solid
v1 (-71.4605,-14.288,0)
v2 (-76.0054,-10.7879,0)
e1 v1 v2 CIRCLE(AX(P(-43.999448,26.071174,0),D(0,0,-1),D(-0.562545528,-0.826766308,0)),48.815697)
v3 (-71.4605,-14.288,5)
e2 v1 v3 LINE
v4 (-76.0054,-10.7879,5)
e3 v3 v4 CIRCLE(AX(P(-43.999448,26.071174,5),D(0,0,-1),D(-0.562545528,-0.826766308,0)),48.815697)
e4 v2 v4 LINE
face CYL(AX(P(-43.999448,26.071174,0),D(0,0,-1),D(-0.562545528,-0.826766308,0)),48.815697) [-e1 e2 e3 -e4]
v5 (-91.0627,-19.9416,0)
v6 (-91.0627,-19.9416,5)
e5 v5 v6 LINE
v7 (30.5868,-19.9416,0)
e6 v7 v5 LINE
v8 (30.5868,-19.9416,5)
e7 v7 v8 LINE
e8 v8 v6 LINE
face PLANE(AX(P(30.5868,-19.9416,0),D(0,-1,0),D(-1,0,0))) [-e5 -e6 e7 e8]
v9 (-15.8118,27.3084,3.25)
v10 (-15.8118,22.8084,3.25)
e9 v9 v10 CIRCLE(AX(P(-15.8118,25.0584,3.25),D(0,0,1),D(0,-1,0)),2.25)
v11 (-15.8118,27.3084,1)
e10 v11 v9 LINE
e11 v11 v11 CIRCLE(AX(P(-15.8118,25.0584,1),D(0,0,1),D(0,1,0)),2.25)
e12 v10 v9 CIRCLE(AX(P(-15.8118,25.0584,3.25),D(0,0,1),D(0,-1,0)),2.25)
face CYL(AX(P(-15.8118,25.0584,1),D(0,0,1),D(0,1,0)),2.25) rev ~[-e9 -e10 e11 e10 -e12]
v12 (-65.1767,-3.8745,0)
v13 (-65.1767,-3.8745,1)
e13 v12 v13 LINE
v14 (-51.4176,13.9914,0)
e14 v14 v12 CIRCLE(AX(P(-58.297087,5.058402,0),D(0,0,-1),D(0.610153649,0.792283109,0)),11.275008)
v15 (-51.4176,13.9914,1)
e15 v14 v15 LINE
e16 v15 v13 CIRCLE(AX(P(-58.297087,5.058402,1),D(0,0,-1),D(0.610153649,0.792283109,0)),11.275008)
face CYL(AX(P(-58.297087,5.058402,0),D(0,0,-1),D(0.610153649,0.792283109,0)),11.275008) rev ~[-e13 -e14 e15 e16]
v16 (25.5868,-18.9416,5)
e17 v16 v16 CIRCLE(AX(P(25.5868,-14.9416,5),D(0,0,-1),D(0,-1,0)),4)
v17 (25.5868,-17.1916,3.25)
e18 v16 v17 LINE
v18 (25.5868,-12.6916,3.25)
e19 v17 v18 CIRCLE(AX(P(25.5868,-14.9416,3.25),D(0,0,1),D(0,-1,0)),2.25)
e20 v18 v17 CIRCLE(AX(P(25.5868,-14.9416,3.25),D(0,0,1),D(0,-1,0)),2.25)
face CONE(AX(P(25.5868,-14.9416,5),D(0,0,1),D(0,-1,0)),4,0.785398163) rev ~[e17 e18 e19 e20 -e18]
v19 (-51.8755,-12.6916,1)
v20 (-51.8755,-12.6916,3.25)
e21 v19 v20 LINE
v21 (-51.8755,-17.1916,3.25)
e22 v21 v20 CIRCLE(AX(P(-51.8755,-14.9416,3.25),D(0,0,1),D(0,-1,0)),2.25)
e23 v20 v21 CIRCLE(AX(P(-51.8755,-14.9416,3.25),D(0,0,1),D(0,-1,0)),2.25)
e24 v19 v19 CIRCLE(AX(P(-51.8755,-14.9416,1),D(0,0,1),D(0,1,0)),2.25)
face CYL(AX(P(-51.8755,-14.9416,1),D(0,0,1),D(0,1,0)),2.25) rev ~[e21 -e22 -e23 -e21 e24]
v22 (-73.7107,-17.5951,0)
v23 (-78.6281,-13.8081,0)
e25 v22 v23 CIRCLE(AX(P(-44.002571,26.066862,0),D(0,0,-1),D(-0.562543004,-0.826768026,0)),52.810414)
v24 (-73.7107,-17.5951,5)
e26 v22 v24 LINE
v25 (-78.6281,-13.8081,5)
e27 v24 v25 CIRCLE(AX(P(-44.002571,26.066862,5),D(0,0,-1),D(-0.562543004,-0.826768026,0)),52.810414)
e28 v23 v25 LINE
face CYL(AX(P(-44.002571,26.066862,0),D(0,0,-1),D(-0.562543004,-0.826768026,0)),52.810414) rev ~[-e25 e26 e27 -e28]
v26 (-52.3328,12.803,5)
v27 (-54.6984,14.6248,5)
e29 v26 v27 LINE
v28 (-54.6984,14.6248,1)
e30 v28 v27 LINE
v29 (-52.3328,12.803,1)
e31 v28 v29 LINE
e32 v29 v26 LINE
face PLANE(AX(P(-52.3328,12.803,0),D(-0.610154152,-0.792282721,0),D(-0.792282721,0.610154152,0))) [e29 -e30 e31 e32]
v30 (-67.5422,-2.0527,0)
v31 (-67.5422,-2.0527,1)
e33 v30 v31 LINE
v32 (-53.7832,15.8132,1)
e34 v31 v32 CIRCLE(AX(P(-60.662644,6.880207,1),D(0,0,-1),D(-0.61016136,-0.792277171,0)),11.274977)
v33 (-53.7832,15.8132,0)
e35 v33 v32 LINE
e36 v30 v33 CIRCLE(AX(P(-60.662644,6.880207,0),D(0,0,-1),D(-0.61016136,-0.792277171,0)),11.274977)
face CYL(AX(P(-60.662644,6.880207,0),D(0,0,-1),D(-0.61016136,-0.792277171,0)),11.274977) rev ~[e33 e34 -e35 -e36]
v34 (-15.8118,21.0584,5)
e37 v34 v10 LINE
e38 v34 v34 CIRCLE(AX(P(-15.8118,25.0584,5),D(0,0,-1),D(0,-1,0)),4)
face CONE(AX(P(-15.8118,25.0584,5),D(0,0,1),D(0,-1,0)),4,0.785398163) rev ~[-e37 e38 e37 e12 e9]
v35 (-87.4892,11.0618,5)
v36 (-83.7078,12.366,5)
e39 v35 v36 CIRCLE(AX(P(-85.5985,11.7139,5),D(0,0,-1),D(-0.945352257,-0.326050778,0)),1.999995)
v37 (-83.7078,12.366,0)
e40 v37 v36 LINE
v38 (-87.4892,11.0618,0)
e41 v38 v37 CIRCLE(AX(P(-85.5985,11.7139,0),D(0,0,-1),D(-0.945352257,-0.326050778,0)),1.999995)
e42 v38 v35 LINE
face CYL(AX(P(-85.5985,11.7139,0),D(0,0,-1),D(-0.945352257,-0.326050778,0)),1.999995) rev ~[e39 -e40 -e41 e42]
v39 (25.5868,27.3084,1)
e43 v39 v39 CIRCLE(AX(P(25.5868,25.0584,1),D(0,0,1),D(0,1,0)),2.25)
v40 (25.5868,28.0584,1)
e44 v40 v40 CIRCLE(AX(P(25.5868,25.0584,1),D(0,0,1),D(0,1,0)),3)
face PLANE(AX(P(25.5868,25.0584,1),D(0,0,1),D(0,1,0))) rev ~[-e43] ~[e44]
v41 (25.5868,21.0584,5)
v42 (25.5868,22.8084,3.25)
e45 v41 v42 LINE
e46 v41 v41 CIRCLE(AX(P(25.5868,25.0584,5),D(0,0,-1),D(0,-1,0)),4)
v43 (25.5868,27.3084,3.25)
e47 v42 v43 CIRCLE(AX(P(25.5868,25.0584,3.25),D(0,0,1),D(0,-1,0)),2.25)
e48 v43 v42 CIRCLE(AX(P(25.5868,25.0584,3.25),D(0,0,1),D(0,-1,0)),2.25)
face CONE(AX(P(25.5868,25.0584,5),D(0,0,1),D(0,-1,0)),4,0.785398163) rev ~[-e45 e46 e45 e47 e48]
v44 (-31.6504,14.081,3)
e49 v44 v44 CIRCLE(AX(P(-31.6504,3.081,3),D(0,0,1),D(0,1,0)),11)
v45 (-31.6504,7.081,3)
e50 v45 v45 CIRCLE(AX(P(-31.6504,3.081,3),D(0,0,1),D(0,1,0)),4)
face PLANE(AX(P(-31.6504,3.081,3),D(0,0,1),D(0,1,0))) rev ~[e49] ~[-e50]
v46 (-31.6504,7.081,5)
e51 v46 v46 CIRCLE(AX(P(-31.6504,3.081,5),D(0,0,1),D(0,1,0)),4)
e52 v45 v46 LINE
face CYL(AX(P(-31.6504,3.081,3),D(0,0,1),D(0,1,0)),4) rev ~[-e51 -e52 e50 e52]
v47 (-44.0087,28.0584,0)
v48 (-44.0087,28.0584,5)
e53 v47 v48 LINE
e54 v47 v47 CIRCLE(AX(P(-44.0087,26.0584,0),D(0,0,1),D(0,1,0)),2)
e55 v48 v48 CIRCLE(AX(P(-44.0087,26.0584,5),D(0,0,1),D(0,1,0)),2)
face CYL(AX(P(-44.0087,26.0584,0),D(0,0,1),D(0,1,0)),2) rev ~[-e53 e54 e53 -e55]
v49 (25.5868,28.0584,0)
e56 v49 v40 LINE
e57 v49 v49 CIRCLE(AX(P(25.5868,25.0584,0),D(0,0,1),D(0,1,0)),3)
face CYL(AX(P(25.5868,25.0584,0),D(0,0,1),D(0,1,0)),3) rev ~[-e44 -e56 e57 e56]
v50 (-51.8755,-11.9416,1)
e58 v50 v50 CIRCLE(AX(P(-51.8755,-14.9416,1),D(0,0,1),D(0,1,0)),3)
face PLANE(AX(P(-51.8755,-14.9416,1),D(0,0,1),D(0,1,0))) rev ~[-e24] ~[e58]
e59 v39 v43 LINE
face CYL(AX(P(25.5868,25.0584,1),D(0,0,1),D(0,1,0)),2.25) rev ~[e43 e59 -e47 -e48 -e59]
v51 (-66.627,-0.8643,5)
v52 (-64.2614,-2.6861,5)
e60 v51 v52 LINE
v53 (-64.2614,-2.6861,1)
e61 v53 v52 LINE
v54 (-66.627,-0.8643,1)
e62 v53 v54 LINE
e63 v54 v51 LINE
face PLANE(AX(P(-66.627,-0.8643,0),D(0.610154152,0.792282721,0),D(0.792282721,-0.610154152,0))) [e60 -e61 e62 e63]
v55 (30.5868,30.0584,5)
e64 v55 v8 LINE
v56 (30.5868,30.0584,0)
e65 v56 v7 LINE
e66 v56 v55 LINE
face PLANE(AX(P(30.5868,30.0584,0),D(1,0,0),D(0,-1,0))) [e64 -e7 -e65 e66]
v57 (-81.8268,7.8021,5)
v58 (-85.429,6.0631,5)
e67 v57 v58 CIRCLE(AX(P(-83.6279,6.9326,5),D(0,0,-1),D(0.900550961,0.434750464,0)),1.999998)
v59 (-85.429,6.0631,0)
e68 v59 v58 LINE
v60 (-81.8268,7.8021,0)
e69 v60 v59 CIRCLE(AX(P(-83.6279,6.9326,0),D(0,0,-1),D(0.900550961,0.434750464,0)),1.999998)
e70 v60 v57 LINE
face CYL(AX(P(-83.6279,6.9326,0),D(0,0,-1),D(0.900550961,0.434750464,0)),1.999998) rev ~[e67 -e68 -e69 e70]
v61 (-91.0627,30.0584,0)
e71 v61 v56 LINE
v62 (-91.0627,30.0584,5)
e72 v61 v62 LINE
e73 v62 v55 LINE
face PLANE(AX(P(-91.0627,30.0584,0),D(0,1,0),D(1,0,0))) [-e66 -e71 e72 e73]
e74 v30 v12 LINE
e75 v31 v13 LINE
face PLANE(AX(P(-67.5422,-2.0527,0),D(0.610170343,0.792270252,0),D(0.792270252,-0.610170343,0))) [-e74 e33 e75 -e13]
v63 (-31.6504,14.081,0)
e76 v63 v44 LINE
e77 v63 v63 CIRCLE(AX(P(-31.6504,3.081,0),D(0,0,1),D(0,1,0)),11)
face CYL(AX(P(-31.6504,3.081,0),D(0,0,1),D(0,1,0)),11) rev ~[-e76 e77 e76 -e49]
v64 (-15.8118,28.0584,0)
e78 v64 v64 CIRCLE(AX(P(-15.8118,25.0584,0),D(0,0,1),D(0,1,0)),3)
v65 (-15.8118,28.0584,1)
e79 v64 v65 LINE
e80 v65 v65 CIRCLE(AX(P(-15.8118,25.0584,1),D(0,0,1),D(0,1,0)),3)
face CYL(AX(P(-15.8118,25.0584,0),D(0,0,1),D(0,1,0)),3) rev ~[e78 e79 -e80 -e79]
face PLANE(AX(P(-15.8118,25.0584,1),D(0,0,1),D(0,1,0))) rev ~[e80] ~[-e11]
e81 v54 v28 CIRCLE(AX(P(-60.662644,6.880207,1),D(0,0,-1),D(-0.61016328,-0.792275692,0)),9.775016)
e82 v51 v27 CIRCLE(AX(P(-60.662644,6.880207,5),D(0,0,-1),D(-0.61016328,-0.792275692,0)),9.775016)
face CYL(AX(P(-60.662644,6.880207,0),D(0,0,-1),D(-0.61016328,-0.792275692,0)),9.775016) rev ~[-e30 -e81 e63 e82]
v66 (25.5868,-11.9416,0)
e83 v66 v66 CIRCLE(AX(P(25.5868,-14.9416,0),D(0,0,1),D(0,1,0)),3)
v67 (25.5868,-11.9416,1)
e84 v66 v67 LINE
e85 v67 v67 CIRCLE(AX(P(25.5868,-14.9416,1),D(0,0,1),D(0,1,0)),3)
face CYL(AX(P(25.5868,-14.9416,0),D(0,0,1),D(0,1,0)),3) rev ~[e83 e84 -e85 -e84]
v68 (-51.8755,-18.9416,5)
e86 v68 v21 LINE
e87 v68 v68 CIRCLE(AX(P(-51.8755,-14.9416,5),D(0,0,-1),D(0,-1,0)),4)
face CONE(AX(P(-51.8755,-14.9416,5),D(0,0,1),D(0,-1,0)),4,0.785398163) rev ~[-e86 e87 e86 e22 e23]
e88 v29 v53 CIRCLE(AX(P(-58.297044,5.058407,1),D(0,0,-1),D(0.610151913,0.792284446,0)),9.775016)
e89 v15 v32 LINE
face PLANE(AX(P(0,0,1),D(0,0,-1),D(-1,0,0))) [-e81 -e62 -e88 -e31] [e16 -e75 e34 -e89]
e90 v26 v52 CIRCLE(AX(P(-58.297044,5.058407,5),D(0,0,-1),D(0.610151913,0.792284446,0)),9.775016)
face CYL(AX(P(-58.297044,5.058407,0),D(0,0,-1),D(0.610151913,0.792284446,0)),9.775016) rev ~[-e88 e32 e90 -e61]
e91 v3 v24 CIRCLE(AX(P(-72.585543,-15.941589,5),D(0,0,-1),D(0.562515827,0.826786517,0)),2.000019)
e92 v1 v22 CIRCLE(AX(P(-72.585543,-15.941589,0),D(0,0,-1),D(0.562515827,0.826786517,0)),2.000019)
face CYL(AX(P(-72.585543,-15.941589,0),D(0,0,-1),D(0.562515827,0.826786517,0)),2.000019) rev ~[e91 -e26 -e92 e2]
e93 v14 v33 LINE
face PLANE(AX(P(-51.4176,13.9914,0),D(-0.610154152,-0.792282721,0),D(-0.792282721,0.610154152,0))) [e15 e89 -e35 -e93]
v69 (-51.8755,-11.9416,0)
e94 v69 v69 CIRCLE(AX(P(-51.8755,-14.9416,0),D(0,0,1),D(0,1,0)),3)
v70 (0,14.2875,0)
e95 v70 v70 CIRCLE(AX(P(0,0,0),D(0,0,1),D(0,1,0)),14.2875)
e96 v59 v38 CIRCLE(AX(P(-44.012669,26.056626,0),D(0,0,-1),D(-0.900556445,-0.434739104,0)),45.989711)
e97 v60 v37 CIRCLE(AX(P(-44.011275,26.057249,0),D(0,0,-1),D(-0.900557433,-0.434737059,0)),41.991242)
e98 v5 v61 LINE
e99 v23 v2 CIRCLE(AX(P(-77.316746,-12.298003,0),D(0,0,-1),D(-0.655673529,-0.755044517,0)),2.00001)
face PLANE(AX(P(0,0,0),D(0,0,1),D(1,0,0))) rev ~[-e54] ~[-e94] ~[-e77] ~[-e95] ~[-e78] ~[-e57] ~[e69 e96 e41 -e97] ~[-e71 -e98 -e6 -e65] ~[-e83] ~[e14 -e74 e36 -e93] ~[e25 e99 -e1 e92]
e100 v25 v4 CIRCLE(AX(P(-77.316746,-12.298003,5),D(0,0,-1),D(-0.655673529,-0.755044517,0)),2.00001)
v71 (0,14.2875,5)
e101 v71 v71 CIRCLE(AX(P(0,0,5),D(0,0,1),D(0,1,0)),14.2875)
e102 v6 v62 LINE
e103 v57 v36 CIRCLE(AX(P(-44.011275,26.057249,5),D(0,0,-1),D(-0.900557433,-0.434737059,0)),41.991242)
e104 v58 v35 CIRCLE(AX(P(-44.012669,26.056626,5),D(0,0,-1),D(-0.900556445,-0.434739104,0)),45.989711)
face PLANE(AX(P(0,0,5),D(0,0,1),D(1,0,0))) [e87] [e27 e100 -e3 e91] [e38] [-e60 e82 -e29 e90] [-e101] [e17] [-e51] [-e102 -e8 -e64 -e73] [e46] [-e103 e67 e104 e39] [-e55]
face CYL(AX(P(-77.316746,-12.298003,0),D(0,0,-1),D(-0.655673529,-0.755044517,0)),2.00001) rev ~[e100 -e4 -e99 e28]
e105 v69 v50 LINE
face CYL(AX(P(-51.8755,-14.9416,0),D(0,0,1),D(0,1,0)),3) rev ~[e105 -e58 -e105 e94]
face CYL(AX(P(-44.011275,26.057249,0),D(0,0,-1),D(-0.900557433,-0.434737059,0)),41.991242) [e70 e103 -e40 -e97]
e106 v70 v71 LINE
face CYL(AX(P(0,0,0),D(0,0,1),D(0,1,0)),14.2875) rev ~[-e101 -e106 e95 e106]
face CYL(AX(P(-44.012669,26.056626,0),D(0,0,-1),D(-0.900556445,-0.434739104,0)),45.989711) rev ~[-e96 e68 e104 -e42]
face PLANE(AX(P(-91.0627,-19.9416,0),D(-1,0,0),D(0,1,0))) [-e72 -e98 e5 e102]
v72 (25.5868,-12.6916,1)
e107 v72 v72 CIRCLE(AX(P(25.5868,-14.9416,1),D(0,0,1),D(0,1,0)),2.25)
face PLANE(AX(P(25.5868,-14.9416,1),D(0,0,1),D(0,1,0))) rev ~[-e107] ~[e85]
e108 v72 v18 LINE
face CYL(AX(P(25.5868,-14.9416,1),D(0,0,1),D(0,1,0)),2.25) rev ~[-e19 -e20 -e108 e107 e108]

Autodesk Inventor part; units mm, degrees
ref_plane "YZ Plane" through (0, 0, 0) normal (1, 0, 0) x (0, 1, 0)
ref_plane "XZ Plane" through (0, 0, 0) normal (0, 1, 0) x (-1, 0, 0)
ref_plane "XY Plane" through (0, 0, 0) normal (0, 0, 1) x (1, 0, 0)
sketch "MASTER SKETCH" plane through (0, 0, 0) normal (0, 0, 1) x (1, 0, 0)
  circle A0 centre (0, 0) radius 22.86
  circle A1 centre (-31.6504, 3.081) radius 8.89
  circle A2 centre (-31.6504, 3.081) radius 20.32
  circle A3 centre (-60.6627, 6.8802) radius 8.89
  circle A4 centre (-58.2971, 5.0584) radius 6.35
  circle A5 centre (-60.6627, 6.8802) radius 25.4
  circle A6 centre (-58.2971, 5.0584) radius 25.4 construction
  line L0 (-44.0087, 26.0584) -> (-77.3167, -12.298) construction
  line L1 (-68.9445, 30.8921) -> (-52.3809, -17.1317) construction
  circle A7 centre (-44.0087, 26.0584) radius 2
  arc A8 (-68.9445, 30.8921) -> (-69.3394, 27.9326) centre (-44.0087, 26.0584) ccw construction
  arc A9 (-70.9079, 31.2727) -> (-71.334, 28.0802) centre (-44.0087, 26.0584) ccw
  arc A10 (-66.981, 30.5115) -> (-67.3449, 27.785) centre (-44.0087, 26.0584) ccw
  arc A11 (-66.981, 30.5115) -> (-70.9079, 31.2727) centre (-68.9445, 30.8921) ccw
  arc A12 (-71.334, 28.0802) -> (-67.3449, 27.785) centre (-69.3394, 27.9326) ccw
  arc A13 (-85.5985, 11.7139) -> (-83.6279, 6.9326) centre (-44.0087, 26.0584) ccw construction
  arc A14 (-87.4892, 11.0618) -> (-85.429, 6.0631) centre (-44.0087, 26.0584) ccw
  arc A15 (-83.7078, 12.366) -> (-81.8268, 7.8021) centre (-44.0087, 26.0584) ccw
  arc A16 (-83.7078, 12.366) -> (-87.4892, 11.0618) centre (-85.5985, 11.7139) ccw
  arc A17 (-85.429, 6.0631) -> (-81.8268, 7.8021) centre (-83.6279, 6.9326) ccw
  arc A18 (-77.3167, -12.298) -> (-72.5856, -15.9416) centre (-44.0087, 26.0584) ccw construction
  arc A19 (-78.6281, -13.8081) -> (-73.7107, -17.5951) centre (-44.0087, 26.0584) ccw
  arc A20 (-76.0054, -10.7879) -> (-71.4605, -14.288) centre (-44.0087, 26.0584) ccw
  arc A21 (-76.0054, -10.7879) -> (-78.6281, -13.8081) centre (-77.3167, -12.298) ccw
  arc A22 (-73.7107, -17.5951) -> (-71.4605, -14.288) centre (-72.5856, -15.9416) ccw
  arc A23 (-52.3809, -17.1317) -> (-47.2548, -17.8157) centre (-44.0087, 26.0584) ccw construction
  arc A24 (-52.7615, -19.0951) -> (-47.4024, -19.8103) centre (-44.0087, 26.0584) ccw
  arc A25 (-52.0003, -15.1682) -> (-47.1072, -15.8212) centre (-44.0087, 26.0584) ccw
  arc A26 (-52.0003, -15.1682) -> (-52.7615, -19.0951) centre (-52.3809, -17.1317) ccw
  arc A27 (-47.4024, -19.8103) -> (-47.1072, -15.8212) centre (-47.2548, -17.8157) ccw
  arc A28 (-35.7269, 2.0465) -> (-32.9664, 3.1843) centre (-44.0087, 26.0584) ccw construction
  arc A29 (-35.0748, 0.1558) -> (-32.0969, 1.3831) centre (-44.0087, 26.0584) ccw
  arc A30 (-36.379, 3.9372) -> (-33.8358, 4.9854) centre (-44.0087, 26.0584) ccw
  arc A31 (-36.379, 3.9372) -> (-35.0748, 0.1558) centre (-35.7269, 2.0465) ccw
  arc A32 (-32.0969, 1.3831) -> (-33.8358, 4.9854) centre (-32.9664, 3.1843) ccw
  line L2 (-91.0627, 30.0584) -> (30.5868, 30.0584)
  line L3 (30.5868, 30.0584) -> (30.5868, -19.9416)
  line L4 (30.5868, -19.9416) -> (-91.0627, -19.9416)
  line L5 (-91.0627, -19.9416) -> (-91.0627, 30.0584)
  circle A33 centre (0, 0) radius 14.2875 construction
  circle A34 centre (25.5868, -14.9416) radius 3
  circle A35 centre (25.5868, 25.0584) radius 3
  circle A36 centre (-51.8755, -14.9416) radius 3
  line L6 (-91.0627, 25.3566) -> (30.5868, 25.3566) construction
  circle A37 centre (-15.8118, 25.0584) radius 3
  line L7 (-58.2971, 5.0584) -> (-60.6627, 6.8802) construction
  line L8 (-52.3328, 12.803) -> (-54.6984, 14.6248)
  line L9 (-66.627, -0.8643) -> (-64.2614, -2.6861)
  arc A38 (-64.2614, -2.6861) -> (-52.3328, 12.803) centre (-58.2971, 5.0584) ccw
  arc A39 (-54.6984, 14.6248) -> (-66.627, -0.8643) centre (-60.6627, 6.8802) ccw
  circle A40 centre (0, 0) radius 24.13 construction
  circle A41 centre (-31.6504, 3.081) radius 21.59 construction
  line L10 (-67.5422, -2.0527) -> (-65.1767, -3.8745)
  arc A42 (-65.1767, -3.8745) -> (-51.4176, 13.9914) centre (-58.2971, 5.0584) ccw
  line L11 (-51.4176, 13.9914) -> (-53.7832, 15.8132)
  arc A43 (-53.7832, 15.8132) -> (-67.5422, -2.0527) centre (-60.6627, 6.8802) ccw
  circle A44 centre (-44.0087, 26.0584) radius 50.8 construction
  arc A45 (-67.3815, -0.857) -> (-64.0616, -3.4137) centre (-44.0087, 26.0584) ccw
  arc A46 (-53.9439, 14.6174) -> (-52.5326, 13.5306) centre (-44.0087, 26.0584) ccw
  arc A47 (-53.9439, 14.6174) -> (-67.3815, -0.857) centre (-60.6627, 6.8802) ccw
  arc A48 (-64.0616, -3.4137) -> (-52.5326, 13.5306) centre (-58.2971, 5.0584) ccw
  line L12 (-35.7269, 2.0465) -> (-85.5985, 11.7139) construction
  point P0 (-60.0285, -7.7006)
  point P1 (-59.4799, 5.9693)
  dimension "d0" = 45.72
  dimension "d1" = 17.78
  dimension "d2" = 40.64
  dimension "d4" = 17.78
  dimension "d5" = 12.7
  dimension "d6" = 50.8
  dimension "d9" = 50.8
  dimension "d10" = 60
  dimension "d12" = 4
  dimension "d13" = 4
  dimension "d14" = 4
  dimension "d15" = 4
  dimension "d16" = 4
  dimension "d17" = 4
  dimension "d19" = 28.575
  dimension "d28" = 6
  dimension "d29" = 6
  dimension "d30" = 6
  dimension "d39" = 31.8
  dimension "d42" = 29.26
  dimension "d43" = 26.72
  dimension "d70" = 2
  dimension "d73" = 6
  dimension "d84" = 2
  dimension "d85" = 5
  dimension "d89" = 19.55
  dimension "d108" = 1.27
  dimension "d109" = 1.27
  dimension "d110" = 2.5
  dimension "d111" = 2.5
  dimension "d113" = 2.5
  dimension "d114" = 2
  dimension "d129" = 1.5
  dimension "d133" = 2.5
  dimension "d136" = 50
  dimension "d139" = 2
  dimension "d140" = 2.5
  dimension "d141" = 2
  dimension "d142" = 2
  dimension "d181" = 60
sketch "Sketch2" plane through (0, 0, 0) normal (0, 0, 1) x (1, 0, 0)
  line L0 (-91.0627, 30.0584) -> (30.5868, 30.0584) projected
  line L1 (-91.0627, -19.9416) -> (-91.0627, 30.0584) projected
  line L2 (30.5868, 30.0584) -> (30.5868, -19.9416) projected
  line L3 (30.5868, -19.9416) -> (-91.0627, -19.9416) projected
  line L4 (-91.0627, 30.0584) -> (30.5868, 30.0584)
  line L5 (30.5868, 30.0584) -> (30.5868, -19.9416)
  line L6 (30.5868, -19.9416) -> (-91.0627, -19.9416)
  line L7 (-91.0627, -19.9416) -> (-91.0627, 30.0584)
  point P0 (0, 0)
extrude "Extrusion1" add sketch "Sketch2" along normal blind 5
sketch "Sketch3" plane through (0, 0, 0) normal (0, 0, -1) x (-1, 0, 0)
  arc A0 (47.1072, -15.8212) -> (47.4024, -19.8103) centre (47.2548, -17.8157) ccw projected
  arc A1 (47.1072, -15.8212) -> (52.0003, -15.1682) centre (44.0087, 26.0584) ccw projected
  arc A2 (47.4024, -19.8103) -> (52.7615, -19.0951) centre (44.0087, 26.0584) ccw projected
  arc A3 (52.7615, -19.0951) -> (52.0003, -15.1682) centre (52.3809, -17.1317) ccw projected
  line L0 (91.0627, 30.0584) -> (91.0627, -19.9416) projected
  line L1 (-30.5868, 30.0584) -> (91.0627, 30.0584) projected
  line L2 (-30.5868, -19.9416) -> (-30.5868, 30.0584) projected
  line L3 (91.0627, -19.9416) -> (-30.5868, -19.9416) projected
  arc A4 (71.4605, -14.288) -> (73.7107, -17.5951) centre (72.5856, -15.9416) ccw projected
  arc A5 (73.7107, -17.5951) -> (78.6281, -13.8081) centre (44.0087, 26.0584) ccw projected
  arc A6 (71.4605, -14.288) -> (76.0054, -10.7879) centre (44.0087, 26.0584) ccw projected
  arc A7 (78.6281, -13.8081) -> (76.0054, -10.7879) centre (77.3167, -12.298) ccw projected
  arc A8 (81.8268, 7.8021) -> (83.7078, 12.366) centre (44.0087, 26.0584) ccw projected
  arc A9 (81.8268, 7.8021) -> (85.429, 6.0631) centre (83.6279, 6.9326) ccw projected
  arc A10 (85.429, 6.0631) -> (87.4892, 11.0618) centre (44.0087, 26.0584) ccw projected
  arc A11 (87.4892, 11.0618) -> (83.7078, 12.366) centre (85.5985, 11.7139) ccw projected
  arc A12 (71.334, 28.0802) -> (70.9079, 31.2727) centre (44.0087, 26.0584) ccw projected
  arc A13 (67.3449, 27.785) -> (66.981, 30.5115) centre (44.0087, 26.0584) ccw projected
  arc A14 (70.9079, 31.2727) -> (66.981, 30.5115) centre (68.9445, 30.8921) ccw projected
  arc A15 (67.3449, 27.785) -> (71.334, 28.0802) centre (69.3394, 27.9326) ccw projected
  arc A16 (66.627, -0.8643) -> (54.6984, 14.6248) centre (60.6627, 6.8802) ccw projected
  arc A17 (52.3328, 12.803) -> (64.2614, -2.6861) centre (58.2971, 5.0584) ccw projected
  line L4 (52.3328, 12.803) -> (54.6984, 14.6248) projected
  line L5 (66.627, -0.8643) -> (64.2614, -2.6861) projected
  point P0 (0, 0)
extrude "Extrusion2" cut sketch "Sketch3" against normal blind 5 contours A6 A7 A5 A4 | A8 A11 A10 A9 | L5 A17 L4 A16
sketch "Sketch4" plane through (0, 0, 0) normal (0, 0, -1) x (-1, 0, 0)
  circle A0 centre (-25.5868, 25.0584) radius 3 projected
  circle A1 centre (15.8118, 25.0584) radius 3 projected
  circle A2 centre (51.8755, -14.9416) radius 3 projected
  circle A3 centre (-25.5868, -14.9416) radius 3 projected
  point P0 (0, 0)
sketch "Sketch5" plane through (0, 0, 0) normal (0, 0, -1) x (-1, 0, 0)
  circle A0 centre (0, 0) radius 22.86 projected
hole "Hole1" at (0, 0, 0) direction (0, 0, 1) diameter 28.575 end through all
hole "Hole2" at (25.5868, 25.0584, 0) at (-15.8118, 25.0584, 0) at (25.5868, -14.9416, 0) at (-51.8755, -14.9416, 0) direction (0, 0, 1) diameter 4.5 end through all counterbore diameter 6 counterbore depth 1
sketch "Sketch6" plane through (0, 0, 0) normal (0, 0, -1) x (-1, 0, 0)
  line L0 (91.0627, 25.3566) -> (-30.5868, 25.3566) construction
  circle A0 centre (44.0087, 26.0584) radius 2 projected
  point P0 (0, 0)
hole "Hole3" at (-44.0087, 26.0584, 0) direction (0, 0, 1) diameter 4 end through all
sketch "Sketch7" plane through (0, 0, 0) normal (0, 0, -1) x (-1, 0, 0)
  circle A0 centre (31.6504, 3.081) radius 20.32 projected
  point P0 (0, 0)
hole "Hole4" at (-31.6504, 3.081, 0) direction (0, 0, 1) diameter 8 depth 5 counterbore diameter 22 counterbore depth 3
sketch "Sketch8" plane through (0, 0, 0) normal (0, 0, -1) x (-1, 0, 0)
  arc A0 (52.3328, 12.803) -> (64.2614, -2.6861) centre (58.2971, 5.0584) ccw projected
  line L0 (66.627, -0.8643) -> (64.2614, -2.6861) projected
  arc A1 (66.627, -0.8643) -> (54.6984, 14.6248) centre (60.6627, 6.8802) ccw projected
  line L1 (52.3328, 12.803) -> (54.6984, 14.6248) projected
  arc A2 (67.5422, -2.0527) -> (53.7832, 15.8132) centre (60.6627, 6.8802) ccw projected
  line L2 (51.4176, 13.9914) -> (53.7832, 15.8132) projected
  line L3 (67.5422, -2.0527) -> (65.1767, -3.8745) projected
  arc A3 (51.4176, 13.9914) -> (65.1767, -3.8745) centre (58.2971, 5.0584) ccw projected
  point P0 (0, 0)
extrude "Extrusion3" cut sketch "Sketch8" against normal blind 1 contours L1 A1 L0 A0 | L3 A3 L2 A2
sketch "Sketch11" plane through (0, 0, 0) normal (0, 0, 1) x (1, 0, 0)
  line L0 (30.5868, -19.9416) -> (30.5868, 30.0584) projected
  line L1 (30.5868, 30.0584) -> (30.5868, -19.9416)
  line L2 (30.5868, -19.9416) -> (-61.3292, -19.9416)
  line L3 (-91.0627, -19.9416) -> (30.5868, -19.9416) projected
  line L4 (-61.3292, -19.9416) -> (-32.4617, 30.0584)
  line L5 (30.5868, 30.0584) -> (-91.0627, 30.0584) projected
  line L6 (-32.4617, 30.0584) -> (30.5868, 30.0584)
  circle A0 centre (-44.0087, 26.0584) radius 2 projected
  point P0 (0, 0)
  dimension "d147" = 120
  dimension "d148" = 8
extrude "Extrusion5" [suppressed]
sketch "Sketch12" plane through (0, 0, 0) normal (0, 0, 1) x (1, 0, 0)
  circle A0 centre (-15.8118, 25.0584) radius 3 projected
  circle A1 centre (25.5868, 25.0584) radius 3 projected
  circle A2 centre (25.5868, -14.9416) radius 3 projected
  circle A3 centre (-51.8755, -14.9416) radius 3 projected
  point P0 (0, 0)
hole "Hole5" [suppressed]
sketch "Sketch13" plane through (0, 0, 0) normal (0, 0, 1) x (1, 0, 0)
  circle A0 centre (0, 0) radius 14.2875 construction
hole "Hole6" [suppressed]
sketch "Sketch14" plane through (0, 0, 0) normal (0, 0, 1) x (1, 0, 0)
  circle A0 centre (-31.6504, 3.081) radius 8.89 projected
  point P0 (0, 0)
hole "Hole7" [suppressed]
sketch "Sketch15" plane through (0, 0, 5) normal (0, 0, 1) x (1, 0, 0)
  circle A0 centre (-15.8118, 25.0584) radius 2.25 projected
  circle A1 centre (-51.8755, -14.9416) radius 2.25 projected
  circle A2 centre (25.5868, 25.0584) radius 2.25 projected
  circle A3 centre (25.5868, -14.9416) radius 2.25 projected
  point P0 (0, 0)
hole "Hole8" at (-15.8118, 25.0584, 5) at (-51.8755, -14.9416, 5) at (25.5868, -14.9416, 5) at (25.5868, 25.0584, 5) direction (0, 0, -1) diameter 4 end through all countersink diameter 8 countersink angle 90
sketch "Sketch16" plane through (0, 0, 0) normal (0, 0, -1) x (-1, 0, 0)
  circle A0 centre (44.0087, 26.0584) radius 2 projected
  arc A1 (67.5422, -2.0527) -> (53.7832, 15.8132) centre (60.6627, 6.8802) ccw projected
  line L0 (51.4176, 13.9914) -> (53.7832, 15.8132) projected
  arc A2 (51.4176, 13.9914) -> (65.1767, -3.8745) centre (58.2971, 5.0584) ccw projected
  line L1 (67.5422, -2.0527) -> (65.1767, -3.8745) projected
  arc A3 (71.4605, -14.288) -> (76.0054, -10.7879) centre (44.0087, 26.0584) ccw projected
  arc A4 (78.6281, -13.8081) -> (76.0054, -10.7879) centre (77.3167, -12.298) ccw projected
  arc A5 (73.7107, -17.5951) -> (78.6281, -13.8081) centre (44.0087, 26.0584) ccw projected
  arc A6 (71.4605, -14.288) -> (73.7107, -17.5951) centre (72.5856, -15.9416) ccw projected
  line L2 (58.1824, 5.2073) -> (44.0087, 26.0584)
  point P0 (0, 0)
  dimension "d180" = 2.9858
equation "\"d0\" = SR2PD"
equation "\"d1\" = SR1PD"
equation "\"d2\" = FirstReductionPD"
equation "\"d4\" = Pinion4inPD"
equation "\"d5\" = PinionPD"
equation "\"PinionPD\" = 12.7"
equation "\"FirstReductionPD\" = 40.64"
equation "\"HighGearPD\" = 20.32"
equation "\"LowGearPD\" = 17.78"
equation "\"HighGearDogPD\" = 63.5"
equation "\"LowGearDogPD\" = 76.2"
equation "\"SR1PD\" = 17.78"
equation "\"SR2PD\" = 45.72"
equation "\"Pinion4inPD\" = 17.78"
properties part number "GEARBOX BACKPLATE" material "Aluminum 6061"
